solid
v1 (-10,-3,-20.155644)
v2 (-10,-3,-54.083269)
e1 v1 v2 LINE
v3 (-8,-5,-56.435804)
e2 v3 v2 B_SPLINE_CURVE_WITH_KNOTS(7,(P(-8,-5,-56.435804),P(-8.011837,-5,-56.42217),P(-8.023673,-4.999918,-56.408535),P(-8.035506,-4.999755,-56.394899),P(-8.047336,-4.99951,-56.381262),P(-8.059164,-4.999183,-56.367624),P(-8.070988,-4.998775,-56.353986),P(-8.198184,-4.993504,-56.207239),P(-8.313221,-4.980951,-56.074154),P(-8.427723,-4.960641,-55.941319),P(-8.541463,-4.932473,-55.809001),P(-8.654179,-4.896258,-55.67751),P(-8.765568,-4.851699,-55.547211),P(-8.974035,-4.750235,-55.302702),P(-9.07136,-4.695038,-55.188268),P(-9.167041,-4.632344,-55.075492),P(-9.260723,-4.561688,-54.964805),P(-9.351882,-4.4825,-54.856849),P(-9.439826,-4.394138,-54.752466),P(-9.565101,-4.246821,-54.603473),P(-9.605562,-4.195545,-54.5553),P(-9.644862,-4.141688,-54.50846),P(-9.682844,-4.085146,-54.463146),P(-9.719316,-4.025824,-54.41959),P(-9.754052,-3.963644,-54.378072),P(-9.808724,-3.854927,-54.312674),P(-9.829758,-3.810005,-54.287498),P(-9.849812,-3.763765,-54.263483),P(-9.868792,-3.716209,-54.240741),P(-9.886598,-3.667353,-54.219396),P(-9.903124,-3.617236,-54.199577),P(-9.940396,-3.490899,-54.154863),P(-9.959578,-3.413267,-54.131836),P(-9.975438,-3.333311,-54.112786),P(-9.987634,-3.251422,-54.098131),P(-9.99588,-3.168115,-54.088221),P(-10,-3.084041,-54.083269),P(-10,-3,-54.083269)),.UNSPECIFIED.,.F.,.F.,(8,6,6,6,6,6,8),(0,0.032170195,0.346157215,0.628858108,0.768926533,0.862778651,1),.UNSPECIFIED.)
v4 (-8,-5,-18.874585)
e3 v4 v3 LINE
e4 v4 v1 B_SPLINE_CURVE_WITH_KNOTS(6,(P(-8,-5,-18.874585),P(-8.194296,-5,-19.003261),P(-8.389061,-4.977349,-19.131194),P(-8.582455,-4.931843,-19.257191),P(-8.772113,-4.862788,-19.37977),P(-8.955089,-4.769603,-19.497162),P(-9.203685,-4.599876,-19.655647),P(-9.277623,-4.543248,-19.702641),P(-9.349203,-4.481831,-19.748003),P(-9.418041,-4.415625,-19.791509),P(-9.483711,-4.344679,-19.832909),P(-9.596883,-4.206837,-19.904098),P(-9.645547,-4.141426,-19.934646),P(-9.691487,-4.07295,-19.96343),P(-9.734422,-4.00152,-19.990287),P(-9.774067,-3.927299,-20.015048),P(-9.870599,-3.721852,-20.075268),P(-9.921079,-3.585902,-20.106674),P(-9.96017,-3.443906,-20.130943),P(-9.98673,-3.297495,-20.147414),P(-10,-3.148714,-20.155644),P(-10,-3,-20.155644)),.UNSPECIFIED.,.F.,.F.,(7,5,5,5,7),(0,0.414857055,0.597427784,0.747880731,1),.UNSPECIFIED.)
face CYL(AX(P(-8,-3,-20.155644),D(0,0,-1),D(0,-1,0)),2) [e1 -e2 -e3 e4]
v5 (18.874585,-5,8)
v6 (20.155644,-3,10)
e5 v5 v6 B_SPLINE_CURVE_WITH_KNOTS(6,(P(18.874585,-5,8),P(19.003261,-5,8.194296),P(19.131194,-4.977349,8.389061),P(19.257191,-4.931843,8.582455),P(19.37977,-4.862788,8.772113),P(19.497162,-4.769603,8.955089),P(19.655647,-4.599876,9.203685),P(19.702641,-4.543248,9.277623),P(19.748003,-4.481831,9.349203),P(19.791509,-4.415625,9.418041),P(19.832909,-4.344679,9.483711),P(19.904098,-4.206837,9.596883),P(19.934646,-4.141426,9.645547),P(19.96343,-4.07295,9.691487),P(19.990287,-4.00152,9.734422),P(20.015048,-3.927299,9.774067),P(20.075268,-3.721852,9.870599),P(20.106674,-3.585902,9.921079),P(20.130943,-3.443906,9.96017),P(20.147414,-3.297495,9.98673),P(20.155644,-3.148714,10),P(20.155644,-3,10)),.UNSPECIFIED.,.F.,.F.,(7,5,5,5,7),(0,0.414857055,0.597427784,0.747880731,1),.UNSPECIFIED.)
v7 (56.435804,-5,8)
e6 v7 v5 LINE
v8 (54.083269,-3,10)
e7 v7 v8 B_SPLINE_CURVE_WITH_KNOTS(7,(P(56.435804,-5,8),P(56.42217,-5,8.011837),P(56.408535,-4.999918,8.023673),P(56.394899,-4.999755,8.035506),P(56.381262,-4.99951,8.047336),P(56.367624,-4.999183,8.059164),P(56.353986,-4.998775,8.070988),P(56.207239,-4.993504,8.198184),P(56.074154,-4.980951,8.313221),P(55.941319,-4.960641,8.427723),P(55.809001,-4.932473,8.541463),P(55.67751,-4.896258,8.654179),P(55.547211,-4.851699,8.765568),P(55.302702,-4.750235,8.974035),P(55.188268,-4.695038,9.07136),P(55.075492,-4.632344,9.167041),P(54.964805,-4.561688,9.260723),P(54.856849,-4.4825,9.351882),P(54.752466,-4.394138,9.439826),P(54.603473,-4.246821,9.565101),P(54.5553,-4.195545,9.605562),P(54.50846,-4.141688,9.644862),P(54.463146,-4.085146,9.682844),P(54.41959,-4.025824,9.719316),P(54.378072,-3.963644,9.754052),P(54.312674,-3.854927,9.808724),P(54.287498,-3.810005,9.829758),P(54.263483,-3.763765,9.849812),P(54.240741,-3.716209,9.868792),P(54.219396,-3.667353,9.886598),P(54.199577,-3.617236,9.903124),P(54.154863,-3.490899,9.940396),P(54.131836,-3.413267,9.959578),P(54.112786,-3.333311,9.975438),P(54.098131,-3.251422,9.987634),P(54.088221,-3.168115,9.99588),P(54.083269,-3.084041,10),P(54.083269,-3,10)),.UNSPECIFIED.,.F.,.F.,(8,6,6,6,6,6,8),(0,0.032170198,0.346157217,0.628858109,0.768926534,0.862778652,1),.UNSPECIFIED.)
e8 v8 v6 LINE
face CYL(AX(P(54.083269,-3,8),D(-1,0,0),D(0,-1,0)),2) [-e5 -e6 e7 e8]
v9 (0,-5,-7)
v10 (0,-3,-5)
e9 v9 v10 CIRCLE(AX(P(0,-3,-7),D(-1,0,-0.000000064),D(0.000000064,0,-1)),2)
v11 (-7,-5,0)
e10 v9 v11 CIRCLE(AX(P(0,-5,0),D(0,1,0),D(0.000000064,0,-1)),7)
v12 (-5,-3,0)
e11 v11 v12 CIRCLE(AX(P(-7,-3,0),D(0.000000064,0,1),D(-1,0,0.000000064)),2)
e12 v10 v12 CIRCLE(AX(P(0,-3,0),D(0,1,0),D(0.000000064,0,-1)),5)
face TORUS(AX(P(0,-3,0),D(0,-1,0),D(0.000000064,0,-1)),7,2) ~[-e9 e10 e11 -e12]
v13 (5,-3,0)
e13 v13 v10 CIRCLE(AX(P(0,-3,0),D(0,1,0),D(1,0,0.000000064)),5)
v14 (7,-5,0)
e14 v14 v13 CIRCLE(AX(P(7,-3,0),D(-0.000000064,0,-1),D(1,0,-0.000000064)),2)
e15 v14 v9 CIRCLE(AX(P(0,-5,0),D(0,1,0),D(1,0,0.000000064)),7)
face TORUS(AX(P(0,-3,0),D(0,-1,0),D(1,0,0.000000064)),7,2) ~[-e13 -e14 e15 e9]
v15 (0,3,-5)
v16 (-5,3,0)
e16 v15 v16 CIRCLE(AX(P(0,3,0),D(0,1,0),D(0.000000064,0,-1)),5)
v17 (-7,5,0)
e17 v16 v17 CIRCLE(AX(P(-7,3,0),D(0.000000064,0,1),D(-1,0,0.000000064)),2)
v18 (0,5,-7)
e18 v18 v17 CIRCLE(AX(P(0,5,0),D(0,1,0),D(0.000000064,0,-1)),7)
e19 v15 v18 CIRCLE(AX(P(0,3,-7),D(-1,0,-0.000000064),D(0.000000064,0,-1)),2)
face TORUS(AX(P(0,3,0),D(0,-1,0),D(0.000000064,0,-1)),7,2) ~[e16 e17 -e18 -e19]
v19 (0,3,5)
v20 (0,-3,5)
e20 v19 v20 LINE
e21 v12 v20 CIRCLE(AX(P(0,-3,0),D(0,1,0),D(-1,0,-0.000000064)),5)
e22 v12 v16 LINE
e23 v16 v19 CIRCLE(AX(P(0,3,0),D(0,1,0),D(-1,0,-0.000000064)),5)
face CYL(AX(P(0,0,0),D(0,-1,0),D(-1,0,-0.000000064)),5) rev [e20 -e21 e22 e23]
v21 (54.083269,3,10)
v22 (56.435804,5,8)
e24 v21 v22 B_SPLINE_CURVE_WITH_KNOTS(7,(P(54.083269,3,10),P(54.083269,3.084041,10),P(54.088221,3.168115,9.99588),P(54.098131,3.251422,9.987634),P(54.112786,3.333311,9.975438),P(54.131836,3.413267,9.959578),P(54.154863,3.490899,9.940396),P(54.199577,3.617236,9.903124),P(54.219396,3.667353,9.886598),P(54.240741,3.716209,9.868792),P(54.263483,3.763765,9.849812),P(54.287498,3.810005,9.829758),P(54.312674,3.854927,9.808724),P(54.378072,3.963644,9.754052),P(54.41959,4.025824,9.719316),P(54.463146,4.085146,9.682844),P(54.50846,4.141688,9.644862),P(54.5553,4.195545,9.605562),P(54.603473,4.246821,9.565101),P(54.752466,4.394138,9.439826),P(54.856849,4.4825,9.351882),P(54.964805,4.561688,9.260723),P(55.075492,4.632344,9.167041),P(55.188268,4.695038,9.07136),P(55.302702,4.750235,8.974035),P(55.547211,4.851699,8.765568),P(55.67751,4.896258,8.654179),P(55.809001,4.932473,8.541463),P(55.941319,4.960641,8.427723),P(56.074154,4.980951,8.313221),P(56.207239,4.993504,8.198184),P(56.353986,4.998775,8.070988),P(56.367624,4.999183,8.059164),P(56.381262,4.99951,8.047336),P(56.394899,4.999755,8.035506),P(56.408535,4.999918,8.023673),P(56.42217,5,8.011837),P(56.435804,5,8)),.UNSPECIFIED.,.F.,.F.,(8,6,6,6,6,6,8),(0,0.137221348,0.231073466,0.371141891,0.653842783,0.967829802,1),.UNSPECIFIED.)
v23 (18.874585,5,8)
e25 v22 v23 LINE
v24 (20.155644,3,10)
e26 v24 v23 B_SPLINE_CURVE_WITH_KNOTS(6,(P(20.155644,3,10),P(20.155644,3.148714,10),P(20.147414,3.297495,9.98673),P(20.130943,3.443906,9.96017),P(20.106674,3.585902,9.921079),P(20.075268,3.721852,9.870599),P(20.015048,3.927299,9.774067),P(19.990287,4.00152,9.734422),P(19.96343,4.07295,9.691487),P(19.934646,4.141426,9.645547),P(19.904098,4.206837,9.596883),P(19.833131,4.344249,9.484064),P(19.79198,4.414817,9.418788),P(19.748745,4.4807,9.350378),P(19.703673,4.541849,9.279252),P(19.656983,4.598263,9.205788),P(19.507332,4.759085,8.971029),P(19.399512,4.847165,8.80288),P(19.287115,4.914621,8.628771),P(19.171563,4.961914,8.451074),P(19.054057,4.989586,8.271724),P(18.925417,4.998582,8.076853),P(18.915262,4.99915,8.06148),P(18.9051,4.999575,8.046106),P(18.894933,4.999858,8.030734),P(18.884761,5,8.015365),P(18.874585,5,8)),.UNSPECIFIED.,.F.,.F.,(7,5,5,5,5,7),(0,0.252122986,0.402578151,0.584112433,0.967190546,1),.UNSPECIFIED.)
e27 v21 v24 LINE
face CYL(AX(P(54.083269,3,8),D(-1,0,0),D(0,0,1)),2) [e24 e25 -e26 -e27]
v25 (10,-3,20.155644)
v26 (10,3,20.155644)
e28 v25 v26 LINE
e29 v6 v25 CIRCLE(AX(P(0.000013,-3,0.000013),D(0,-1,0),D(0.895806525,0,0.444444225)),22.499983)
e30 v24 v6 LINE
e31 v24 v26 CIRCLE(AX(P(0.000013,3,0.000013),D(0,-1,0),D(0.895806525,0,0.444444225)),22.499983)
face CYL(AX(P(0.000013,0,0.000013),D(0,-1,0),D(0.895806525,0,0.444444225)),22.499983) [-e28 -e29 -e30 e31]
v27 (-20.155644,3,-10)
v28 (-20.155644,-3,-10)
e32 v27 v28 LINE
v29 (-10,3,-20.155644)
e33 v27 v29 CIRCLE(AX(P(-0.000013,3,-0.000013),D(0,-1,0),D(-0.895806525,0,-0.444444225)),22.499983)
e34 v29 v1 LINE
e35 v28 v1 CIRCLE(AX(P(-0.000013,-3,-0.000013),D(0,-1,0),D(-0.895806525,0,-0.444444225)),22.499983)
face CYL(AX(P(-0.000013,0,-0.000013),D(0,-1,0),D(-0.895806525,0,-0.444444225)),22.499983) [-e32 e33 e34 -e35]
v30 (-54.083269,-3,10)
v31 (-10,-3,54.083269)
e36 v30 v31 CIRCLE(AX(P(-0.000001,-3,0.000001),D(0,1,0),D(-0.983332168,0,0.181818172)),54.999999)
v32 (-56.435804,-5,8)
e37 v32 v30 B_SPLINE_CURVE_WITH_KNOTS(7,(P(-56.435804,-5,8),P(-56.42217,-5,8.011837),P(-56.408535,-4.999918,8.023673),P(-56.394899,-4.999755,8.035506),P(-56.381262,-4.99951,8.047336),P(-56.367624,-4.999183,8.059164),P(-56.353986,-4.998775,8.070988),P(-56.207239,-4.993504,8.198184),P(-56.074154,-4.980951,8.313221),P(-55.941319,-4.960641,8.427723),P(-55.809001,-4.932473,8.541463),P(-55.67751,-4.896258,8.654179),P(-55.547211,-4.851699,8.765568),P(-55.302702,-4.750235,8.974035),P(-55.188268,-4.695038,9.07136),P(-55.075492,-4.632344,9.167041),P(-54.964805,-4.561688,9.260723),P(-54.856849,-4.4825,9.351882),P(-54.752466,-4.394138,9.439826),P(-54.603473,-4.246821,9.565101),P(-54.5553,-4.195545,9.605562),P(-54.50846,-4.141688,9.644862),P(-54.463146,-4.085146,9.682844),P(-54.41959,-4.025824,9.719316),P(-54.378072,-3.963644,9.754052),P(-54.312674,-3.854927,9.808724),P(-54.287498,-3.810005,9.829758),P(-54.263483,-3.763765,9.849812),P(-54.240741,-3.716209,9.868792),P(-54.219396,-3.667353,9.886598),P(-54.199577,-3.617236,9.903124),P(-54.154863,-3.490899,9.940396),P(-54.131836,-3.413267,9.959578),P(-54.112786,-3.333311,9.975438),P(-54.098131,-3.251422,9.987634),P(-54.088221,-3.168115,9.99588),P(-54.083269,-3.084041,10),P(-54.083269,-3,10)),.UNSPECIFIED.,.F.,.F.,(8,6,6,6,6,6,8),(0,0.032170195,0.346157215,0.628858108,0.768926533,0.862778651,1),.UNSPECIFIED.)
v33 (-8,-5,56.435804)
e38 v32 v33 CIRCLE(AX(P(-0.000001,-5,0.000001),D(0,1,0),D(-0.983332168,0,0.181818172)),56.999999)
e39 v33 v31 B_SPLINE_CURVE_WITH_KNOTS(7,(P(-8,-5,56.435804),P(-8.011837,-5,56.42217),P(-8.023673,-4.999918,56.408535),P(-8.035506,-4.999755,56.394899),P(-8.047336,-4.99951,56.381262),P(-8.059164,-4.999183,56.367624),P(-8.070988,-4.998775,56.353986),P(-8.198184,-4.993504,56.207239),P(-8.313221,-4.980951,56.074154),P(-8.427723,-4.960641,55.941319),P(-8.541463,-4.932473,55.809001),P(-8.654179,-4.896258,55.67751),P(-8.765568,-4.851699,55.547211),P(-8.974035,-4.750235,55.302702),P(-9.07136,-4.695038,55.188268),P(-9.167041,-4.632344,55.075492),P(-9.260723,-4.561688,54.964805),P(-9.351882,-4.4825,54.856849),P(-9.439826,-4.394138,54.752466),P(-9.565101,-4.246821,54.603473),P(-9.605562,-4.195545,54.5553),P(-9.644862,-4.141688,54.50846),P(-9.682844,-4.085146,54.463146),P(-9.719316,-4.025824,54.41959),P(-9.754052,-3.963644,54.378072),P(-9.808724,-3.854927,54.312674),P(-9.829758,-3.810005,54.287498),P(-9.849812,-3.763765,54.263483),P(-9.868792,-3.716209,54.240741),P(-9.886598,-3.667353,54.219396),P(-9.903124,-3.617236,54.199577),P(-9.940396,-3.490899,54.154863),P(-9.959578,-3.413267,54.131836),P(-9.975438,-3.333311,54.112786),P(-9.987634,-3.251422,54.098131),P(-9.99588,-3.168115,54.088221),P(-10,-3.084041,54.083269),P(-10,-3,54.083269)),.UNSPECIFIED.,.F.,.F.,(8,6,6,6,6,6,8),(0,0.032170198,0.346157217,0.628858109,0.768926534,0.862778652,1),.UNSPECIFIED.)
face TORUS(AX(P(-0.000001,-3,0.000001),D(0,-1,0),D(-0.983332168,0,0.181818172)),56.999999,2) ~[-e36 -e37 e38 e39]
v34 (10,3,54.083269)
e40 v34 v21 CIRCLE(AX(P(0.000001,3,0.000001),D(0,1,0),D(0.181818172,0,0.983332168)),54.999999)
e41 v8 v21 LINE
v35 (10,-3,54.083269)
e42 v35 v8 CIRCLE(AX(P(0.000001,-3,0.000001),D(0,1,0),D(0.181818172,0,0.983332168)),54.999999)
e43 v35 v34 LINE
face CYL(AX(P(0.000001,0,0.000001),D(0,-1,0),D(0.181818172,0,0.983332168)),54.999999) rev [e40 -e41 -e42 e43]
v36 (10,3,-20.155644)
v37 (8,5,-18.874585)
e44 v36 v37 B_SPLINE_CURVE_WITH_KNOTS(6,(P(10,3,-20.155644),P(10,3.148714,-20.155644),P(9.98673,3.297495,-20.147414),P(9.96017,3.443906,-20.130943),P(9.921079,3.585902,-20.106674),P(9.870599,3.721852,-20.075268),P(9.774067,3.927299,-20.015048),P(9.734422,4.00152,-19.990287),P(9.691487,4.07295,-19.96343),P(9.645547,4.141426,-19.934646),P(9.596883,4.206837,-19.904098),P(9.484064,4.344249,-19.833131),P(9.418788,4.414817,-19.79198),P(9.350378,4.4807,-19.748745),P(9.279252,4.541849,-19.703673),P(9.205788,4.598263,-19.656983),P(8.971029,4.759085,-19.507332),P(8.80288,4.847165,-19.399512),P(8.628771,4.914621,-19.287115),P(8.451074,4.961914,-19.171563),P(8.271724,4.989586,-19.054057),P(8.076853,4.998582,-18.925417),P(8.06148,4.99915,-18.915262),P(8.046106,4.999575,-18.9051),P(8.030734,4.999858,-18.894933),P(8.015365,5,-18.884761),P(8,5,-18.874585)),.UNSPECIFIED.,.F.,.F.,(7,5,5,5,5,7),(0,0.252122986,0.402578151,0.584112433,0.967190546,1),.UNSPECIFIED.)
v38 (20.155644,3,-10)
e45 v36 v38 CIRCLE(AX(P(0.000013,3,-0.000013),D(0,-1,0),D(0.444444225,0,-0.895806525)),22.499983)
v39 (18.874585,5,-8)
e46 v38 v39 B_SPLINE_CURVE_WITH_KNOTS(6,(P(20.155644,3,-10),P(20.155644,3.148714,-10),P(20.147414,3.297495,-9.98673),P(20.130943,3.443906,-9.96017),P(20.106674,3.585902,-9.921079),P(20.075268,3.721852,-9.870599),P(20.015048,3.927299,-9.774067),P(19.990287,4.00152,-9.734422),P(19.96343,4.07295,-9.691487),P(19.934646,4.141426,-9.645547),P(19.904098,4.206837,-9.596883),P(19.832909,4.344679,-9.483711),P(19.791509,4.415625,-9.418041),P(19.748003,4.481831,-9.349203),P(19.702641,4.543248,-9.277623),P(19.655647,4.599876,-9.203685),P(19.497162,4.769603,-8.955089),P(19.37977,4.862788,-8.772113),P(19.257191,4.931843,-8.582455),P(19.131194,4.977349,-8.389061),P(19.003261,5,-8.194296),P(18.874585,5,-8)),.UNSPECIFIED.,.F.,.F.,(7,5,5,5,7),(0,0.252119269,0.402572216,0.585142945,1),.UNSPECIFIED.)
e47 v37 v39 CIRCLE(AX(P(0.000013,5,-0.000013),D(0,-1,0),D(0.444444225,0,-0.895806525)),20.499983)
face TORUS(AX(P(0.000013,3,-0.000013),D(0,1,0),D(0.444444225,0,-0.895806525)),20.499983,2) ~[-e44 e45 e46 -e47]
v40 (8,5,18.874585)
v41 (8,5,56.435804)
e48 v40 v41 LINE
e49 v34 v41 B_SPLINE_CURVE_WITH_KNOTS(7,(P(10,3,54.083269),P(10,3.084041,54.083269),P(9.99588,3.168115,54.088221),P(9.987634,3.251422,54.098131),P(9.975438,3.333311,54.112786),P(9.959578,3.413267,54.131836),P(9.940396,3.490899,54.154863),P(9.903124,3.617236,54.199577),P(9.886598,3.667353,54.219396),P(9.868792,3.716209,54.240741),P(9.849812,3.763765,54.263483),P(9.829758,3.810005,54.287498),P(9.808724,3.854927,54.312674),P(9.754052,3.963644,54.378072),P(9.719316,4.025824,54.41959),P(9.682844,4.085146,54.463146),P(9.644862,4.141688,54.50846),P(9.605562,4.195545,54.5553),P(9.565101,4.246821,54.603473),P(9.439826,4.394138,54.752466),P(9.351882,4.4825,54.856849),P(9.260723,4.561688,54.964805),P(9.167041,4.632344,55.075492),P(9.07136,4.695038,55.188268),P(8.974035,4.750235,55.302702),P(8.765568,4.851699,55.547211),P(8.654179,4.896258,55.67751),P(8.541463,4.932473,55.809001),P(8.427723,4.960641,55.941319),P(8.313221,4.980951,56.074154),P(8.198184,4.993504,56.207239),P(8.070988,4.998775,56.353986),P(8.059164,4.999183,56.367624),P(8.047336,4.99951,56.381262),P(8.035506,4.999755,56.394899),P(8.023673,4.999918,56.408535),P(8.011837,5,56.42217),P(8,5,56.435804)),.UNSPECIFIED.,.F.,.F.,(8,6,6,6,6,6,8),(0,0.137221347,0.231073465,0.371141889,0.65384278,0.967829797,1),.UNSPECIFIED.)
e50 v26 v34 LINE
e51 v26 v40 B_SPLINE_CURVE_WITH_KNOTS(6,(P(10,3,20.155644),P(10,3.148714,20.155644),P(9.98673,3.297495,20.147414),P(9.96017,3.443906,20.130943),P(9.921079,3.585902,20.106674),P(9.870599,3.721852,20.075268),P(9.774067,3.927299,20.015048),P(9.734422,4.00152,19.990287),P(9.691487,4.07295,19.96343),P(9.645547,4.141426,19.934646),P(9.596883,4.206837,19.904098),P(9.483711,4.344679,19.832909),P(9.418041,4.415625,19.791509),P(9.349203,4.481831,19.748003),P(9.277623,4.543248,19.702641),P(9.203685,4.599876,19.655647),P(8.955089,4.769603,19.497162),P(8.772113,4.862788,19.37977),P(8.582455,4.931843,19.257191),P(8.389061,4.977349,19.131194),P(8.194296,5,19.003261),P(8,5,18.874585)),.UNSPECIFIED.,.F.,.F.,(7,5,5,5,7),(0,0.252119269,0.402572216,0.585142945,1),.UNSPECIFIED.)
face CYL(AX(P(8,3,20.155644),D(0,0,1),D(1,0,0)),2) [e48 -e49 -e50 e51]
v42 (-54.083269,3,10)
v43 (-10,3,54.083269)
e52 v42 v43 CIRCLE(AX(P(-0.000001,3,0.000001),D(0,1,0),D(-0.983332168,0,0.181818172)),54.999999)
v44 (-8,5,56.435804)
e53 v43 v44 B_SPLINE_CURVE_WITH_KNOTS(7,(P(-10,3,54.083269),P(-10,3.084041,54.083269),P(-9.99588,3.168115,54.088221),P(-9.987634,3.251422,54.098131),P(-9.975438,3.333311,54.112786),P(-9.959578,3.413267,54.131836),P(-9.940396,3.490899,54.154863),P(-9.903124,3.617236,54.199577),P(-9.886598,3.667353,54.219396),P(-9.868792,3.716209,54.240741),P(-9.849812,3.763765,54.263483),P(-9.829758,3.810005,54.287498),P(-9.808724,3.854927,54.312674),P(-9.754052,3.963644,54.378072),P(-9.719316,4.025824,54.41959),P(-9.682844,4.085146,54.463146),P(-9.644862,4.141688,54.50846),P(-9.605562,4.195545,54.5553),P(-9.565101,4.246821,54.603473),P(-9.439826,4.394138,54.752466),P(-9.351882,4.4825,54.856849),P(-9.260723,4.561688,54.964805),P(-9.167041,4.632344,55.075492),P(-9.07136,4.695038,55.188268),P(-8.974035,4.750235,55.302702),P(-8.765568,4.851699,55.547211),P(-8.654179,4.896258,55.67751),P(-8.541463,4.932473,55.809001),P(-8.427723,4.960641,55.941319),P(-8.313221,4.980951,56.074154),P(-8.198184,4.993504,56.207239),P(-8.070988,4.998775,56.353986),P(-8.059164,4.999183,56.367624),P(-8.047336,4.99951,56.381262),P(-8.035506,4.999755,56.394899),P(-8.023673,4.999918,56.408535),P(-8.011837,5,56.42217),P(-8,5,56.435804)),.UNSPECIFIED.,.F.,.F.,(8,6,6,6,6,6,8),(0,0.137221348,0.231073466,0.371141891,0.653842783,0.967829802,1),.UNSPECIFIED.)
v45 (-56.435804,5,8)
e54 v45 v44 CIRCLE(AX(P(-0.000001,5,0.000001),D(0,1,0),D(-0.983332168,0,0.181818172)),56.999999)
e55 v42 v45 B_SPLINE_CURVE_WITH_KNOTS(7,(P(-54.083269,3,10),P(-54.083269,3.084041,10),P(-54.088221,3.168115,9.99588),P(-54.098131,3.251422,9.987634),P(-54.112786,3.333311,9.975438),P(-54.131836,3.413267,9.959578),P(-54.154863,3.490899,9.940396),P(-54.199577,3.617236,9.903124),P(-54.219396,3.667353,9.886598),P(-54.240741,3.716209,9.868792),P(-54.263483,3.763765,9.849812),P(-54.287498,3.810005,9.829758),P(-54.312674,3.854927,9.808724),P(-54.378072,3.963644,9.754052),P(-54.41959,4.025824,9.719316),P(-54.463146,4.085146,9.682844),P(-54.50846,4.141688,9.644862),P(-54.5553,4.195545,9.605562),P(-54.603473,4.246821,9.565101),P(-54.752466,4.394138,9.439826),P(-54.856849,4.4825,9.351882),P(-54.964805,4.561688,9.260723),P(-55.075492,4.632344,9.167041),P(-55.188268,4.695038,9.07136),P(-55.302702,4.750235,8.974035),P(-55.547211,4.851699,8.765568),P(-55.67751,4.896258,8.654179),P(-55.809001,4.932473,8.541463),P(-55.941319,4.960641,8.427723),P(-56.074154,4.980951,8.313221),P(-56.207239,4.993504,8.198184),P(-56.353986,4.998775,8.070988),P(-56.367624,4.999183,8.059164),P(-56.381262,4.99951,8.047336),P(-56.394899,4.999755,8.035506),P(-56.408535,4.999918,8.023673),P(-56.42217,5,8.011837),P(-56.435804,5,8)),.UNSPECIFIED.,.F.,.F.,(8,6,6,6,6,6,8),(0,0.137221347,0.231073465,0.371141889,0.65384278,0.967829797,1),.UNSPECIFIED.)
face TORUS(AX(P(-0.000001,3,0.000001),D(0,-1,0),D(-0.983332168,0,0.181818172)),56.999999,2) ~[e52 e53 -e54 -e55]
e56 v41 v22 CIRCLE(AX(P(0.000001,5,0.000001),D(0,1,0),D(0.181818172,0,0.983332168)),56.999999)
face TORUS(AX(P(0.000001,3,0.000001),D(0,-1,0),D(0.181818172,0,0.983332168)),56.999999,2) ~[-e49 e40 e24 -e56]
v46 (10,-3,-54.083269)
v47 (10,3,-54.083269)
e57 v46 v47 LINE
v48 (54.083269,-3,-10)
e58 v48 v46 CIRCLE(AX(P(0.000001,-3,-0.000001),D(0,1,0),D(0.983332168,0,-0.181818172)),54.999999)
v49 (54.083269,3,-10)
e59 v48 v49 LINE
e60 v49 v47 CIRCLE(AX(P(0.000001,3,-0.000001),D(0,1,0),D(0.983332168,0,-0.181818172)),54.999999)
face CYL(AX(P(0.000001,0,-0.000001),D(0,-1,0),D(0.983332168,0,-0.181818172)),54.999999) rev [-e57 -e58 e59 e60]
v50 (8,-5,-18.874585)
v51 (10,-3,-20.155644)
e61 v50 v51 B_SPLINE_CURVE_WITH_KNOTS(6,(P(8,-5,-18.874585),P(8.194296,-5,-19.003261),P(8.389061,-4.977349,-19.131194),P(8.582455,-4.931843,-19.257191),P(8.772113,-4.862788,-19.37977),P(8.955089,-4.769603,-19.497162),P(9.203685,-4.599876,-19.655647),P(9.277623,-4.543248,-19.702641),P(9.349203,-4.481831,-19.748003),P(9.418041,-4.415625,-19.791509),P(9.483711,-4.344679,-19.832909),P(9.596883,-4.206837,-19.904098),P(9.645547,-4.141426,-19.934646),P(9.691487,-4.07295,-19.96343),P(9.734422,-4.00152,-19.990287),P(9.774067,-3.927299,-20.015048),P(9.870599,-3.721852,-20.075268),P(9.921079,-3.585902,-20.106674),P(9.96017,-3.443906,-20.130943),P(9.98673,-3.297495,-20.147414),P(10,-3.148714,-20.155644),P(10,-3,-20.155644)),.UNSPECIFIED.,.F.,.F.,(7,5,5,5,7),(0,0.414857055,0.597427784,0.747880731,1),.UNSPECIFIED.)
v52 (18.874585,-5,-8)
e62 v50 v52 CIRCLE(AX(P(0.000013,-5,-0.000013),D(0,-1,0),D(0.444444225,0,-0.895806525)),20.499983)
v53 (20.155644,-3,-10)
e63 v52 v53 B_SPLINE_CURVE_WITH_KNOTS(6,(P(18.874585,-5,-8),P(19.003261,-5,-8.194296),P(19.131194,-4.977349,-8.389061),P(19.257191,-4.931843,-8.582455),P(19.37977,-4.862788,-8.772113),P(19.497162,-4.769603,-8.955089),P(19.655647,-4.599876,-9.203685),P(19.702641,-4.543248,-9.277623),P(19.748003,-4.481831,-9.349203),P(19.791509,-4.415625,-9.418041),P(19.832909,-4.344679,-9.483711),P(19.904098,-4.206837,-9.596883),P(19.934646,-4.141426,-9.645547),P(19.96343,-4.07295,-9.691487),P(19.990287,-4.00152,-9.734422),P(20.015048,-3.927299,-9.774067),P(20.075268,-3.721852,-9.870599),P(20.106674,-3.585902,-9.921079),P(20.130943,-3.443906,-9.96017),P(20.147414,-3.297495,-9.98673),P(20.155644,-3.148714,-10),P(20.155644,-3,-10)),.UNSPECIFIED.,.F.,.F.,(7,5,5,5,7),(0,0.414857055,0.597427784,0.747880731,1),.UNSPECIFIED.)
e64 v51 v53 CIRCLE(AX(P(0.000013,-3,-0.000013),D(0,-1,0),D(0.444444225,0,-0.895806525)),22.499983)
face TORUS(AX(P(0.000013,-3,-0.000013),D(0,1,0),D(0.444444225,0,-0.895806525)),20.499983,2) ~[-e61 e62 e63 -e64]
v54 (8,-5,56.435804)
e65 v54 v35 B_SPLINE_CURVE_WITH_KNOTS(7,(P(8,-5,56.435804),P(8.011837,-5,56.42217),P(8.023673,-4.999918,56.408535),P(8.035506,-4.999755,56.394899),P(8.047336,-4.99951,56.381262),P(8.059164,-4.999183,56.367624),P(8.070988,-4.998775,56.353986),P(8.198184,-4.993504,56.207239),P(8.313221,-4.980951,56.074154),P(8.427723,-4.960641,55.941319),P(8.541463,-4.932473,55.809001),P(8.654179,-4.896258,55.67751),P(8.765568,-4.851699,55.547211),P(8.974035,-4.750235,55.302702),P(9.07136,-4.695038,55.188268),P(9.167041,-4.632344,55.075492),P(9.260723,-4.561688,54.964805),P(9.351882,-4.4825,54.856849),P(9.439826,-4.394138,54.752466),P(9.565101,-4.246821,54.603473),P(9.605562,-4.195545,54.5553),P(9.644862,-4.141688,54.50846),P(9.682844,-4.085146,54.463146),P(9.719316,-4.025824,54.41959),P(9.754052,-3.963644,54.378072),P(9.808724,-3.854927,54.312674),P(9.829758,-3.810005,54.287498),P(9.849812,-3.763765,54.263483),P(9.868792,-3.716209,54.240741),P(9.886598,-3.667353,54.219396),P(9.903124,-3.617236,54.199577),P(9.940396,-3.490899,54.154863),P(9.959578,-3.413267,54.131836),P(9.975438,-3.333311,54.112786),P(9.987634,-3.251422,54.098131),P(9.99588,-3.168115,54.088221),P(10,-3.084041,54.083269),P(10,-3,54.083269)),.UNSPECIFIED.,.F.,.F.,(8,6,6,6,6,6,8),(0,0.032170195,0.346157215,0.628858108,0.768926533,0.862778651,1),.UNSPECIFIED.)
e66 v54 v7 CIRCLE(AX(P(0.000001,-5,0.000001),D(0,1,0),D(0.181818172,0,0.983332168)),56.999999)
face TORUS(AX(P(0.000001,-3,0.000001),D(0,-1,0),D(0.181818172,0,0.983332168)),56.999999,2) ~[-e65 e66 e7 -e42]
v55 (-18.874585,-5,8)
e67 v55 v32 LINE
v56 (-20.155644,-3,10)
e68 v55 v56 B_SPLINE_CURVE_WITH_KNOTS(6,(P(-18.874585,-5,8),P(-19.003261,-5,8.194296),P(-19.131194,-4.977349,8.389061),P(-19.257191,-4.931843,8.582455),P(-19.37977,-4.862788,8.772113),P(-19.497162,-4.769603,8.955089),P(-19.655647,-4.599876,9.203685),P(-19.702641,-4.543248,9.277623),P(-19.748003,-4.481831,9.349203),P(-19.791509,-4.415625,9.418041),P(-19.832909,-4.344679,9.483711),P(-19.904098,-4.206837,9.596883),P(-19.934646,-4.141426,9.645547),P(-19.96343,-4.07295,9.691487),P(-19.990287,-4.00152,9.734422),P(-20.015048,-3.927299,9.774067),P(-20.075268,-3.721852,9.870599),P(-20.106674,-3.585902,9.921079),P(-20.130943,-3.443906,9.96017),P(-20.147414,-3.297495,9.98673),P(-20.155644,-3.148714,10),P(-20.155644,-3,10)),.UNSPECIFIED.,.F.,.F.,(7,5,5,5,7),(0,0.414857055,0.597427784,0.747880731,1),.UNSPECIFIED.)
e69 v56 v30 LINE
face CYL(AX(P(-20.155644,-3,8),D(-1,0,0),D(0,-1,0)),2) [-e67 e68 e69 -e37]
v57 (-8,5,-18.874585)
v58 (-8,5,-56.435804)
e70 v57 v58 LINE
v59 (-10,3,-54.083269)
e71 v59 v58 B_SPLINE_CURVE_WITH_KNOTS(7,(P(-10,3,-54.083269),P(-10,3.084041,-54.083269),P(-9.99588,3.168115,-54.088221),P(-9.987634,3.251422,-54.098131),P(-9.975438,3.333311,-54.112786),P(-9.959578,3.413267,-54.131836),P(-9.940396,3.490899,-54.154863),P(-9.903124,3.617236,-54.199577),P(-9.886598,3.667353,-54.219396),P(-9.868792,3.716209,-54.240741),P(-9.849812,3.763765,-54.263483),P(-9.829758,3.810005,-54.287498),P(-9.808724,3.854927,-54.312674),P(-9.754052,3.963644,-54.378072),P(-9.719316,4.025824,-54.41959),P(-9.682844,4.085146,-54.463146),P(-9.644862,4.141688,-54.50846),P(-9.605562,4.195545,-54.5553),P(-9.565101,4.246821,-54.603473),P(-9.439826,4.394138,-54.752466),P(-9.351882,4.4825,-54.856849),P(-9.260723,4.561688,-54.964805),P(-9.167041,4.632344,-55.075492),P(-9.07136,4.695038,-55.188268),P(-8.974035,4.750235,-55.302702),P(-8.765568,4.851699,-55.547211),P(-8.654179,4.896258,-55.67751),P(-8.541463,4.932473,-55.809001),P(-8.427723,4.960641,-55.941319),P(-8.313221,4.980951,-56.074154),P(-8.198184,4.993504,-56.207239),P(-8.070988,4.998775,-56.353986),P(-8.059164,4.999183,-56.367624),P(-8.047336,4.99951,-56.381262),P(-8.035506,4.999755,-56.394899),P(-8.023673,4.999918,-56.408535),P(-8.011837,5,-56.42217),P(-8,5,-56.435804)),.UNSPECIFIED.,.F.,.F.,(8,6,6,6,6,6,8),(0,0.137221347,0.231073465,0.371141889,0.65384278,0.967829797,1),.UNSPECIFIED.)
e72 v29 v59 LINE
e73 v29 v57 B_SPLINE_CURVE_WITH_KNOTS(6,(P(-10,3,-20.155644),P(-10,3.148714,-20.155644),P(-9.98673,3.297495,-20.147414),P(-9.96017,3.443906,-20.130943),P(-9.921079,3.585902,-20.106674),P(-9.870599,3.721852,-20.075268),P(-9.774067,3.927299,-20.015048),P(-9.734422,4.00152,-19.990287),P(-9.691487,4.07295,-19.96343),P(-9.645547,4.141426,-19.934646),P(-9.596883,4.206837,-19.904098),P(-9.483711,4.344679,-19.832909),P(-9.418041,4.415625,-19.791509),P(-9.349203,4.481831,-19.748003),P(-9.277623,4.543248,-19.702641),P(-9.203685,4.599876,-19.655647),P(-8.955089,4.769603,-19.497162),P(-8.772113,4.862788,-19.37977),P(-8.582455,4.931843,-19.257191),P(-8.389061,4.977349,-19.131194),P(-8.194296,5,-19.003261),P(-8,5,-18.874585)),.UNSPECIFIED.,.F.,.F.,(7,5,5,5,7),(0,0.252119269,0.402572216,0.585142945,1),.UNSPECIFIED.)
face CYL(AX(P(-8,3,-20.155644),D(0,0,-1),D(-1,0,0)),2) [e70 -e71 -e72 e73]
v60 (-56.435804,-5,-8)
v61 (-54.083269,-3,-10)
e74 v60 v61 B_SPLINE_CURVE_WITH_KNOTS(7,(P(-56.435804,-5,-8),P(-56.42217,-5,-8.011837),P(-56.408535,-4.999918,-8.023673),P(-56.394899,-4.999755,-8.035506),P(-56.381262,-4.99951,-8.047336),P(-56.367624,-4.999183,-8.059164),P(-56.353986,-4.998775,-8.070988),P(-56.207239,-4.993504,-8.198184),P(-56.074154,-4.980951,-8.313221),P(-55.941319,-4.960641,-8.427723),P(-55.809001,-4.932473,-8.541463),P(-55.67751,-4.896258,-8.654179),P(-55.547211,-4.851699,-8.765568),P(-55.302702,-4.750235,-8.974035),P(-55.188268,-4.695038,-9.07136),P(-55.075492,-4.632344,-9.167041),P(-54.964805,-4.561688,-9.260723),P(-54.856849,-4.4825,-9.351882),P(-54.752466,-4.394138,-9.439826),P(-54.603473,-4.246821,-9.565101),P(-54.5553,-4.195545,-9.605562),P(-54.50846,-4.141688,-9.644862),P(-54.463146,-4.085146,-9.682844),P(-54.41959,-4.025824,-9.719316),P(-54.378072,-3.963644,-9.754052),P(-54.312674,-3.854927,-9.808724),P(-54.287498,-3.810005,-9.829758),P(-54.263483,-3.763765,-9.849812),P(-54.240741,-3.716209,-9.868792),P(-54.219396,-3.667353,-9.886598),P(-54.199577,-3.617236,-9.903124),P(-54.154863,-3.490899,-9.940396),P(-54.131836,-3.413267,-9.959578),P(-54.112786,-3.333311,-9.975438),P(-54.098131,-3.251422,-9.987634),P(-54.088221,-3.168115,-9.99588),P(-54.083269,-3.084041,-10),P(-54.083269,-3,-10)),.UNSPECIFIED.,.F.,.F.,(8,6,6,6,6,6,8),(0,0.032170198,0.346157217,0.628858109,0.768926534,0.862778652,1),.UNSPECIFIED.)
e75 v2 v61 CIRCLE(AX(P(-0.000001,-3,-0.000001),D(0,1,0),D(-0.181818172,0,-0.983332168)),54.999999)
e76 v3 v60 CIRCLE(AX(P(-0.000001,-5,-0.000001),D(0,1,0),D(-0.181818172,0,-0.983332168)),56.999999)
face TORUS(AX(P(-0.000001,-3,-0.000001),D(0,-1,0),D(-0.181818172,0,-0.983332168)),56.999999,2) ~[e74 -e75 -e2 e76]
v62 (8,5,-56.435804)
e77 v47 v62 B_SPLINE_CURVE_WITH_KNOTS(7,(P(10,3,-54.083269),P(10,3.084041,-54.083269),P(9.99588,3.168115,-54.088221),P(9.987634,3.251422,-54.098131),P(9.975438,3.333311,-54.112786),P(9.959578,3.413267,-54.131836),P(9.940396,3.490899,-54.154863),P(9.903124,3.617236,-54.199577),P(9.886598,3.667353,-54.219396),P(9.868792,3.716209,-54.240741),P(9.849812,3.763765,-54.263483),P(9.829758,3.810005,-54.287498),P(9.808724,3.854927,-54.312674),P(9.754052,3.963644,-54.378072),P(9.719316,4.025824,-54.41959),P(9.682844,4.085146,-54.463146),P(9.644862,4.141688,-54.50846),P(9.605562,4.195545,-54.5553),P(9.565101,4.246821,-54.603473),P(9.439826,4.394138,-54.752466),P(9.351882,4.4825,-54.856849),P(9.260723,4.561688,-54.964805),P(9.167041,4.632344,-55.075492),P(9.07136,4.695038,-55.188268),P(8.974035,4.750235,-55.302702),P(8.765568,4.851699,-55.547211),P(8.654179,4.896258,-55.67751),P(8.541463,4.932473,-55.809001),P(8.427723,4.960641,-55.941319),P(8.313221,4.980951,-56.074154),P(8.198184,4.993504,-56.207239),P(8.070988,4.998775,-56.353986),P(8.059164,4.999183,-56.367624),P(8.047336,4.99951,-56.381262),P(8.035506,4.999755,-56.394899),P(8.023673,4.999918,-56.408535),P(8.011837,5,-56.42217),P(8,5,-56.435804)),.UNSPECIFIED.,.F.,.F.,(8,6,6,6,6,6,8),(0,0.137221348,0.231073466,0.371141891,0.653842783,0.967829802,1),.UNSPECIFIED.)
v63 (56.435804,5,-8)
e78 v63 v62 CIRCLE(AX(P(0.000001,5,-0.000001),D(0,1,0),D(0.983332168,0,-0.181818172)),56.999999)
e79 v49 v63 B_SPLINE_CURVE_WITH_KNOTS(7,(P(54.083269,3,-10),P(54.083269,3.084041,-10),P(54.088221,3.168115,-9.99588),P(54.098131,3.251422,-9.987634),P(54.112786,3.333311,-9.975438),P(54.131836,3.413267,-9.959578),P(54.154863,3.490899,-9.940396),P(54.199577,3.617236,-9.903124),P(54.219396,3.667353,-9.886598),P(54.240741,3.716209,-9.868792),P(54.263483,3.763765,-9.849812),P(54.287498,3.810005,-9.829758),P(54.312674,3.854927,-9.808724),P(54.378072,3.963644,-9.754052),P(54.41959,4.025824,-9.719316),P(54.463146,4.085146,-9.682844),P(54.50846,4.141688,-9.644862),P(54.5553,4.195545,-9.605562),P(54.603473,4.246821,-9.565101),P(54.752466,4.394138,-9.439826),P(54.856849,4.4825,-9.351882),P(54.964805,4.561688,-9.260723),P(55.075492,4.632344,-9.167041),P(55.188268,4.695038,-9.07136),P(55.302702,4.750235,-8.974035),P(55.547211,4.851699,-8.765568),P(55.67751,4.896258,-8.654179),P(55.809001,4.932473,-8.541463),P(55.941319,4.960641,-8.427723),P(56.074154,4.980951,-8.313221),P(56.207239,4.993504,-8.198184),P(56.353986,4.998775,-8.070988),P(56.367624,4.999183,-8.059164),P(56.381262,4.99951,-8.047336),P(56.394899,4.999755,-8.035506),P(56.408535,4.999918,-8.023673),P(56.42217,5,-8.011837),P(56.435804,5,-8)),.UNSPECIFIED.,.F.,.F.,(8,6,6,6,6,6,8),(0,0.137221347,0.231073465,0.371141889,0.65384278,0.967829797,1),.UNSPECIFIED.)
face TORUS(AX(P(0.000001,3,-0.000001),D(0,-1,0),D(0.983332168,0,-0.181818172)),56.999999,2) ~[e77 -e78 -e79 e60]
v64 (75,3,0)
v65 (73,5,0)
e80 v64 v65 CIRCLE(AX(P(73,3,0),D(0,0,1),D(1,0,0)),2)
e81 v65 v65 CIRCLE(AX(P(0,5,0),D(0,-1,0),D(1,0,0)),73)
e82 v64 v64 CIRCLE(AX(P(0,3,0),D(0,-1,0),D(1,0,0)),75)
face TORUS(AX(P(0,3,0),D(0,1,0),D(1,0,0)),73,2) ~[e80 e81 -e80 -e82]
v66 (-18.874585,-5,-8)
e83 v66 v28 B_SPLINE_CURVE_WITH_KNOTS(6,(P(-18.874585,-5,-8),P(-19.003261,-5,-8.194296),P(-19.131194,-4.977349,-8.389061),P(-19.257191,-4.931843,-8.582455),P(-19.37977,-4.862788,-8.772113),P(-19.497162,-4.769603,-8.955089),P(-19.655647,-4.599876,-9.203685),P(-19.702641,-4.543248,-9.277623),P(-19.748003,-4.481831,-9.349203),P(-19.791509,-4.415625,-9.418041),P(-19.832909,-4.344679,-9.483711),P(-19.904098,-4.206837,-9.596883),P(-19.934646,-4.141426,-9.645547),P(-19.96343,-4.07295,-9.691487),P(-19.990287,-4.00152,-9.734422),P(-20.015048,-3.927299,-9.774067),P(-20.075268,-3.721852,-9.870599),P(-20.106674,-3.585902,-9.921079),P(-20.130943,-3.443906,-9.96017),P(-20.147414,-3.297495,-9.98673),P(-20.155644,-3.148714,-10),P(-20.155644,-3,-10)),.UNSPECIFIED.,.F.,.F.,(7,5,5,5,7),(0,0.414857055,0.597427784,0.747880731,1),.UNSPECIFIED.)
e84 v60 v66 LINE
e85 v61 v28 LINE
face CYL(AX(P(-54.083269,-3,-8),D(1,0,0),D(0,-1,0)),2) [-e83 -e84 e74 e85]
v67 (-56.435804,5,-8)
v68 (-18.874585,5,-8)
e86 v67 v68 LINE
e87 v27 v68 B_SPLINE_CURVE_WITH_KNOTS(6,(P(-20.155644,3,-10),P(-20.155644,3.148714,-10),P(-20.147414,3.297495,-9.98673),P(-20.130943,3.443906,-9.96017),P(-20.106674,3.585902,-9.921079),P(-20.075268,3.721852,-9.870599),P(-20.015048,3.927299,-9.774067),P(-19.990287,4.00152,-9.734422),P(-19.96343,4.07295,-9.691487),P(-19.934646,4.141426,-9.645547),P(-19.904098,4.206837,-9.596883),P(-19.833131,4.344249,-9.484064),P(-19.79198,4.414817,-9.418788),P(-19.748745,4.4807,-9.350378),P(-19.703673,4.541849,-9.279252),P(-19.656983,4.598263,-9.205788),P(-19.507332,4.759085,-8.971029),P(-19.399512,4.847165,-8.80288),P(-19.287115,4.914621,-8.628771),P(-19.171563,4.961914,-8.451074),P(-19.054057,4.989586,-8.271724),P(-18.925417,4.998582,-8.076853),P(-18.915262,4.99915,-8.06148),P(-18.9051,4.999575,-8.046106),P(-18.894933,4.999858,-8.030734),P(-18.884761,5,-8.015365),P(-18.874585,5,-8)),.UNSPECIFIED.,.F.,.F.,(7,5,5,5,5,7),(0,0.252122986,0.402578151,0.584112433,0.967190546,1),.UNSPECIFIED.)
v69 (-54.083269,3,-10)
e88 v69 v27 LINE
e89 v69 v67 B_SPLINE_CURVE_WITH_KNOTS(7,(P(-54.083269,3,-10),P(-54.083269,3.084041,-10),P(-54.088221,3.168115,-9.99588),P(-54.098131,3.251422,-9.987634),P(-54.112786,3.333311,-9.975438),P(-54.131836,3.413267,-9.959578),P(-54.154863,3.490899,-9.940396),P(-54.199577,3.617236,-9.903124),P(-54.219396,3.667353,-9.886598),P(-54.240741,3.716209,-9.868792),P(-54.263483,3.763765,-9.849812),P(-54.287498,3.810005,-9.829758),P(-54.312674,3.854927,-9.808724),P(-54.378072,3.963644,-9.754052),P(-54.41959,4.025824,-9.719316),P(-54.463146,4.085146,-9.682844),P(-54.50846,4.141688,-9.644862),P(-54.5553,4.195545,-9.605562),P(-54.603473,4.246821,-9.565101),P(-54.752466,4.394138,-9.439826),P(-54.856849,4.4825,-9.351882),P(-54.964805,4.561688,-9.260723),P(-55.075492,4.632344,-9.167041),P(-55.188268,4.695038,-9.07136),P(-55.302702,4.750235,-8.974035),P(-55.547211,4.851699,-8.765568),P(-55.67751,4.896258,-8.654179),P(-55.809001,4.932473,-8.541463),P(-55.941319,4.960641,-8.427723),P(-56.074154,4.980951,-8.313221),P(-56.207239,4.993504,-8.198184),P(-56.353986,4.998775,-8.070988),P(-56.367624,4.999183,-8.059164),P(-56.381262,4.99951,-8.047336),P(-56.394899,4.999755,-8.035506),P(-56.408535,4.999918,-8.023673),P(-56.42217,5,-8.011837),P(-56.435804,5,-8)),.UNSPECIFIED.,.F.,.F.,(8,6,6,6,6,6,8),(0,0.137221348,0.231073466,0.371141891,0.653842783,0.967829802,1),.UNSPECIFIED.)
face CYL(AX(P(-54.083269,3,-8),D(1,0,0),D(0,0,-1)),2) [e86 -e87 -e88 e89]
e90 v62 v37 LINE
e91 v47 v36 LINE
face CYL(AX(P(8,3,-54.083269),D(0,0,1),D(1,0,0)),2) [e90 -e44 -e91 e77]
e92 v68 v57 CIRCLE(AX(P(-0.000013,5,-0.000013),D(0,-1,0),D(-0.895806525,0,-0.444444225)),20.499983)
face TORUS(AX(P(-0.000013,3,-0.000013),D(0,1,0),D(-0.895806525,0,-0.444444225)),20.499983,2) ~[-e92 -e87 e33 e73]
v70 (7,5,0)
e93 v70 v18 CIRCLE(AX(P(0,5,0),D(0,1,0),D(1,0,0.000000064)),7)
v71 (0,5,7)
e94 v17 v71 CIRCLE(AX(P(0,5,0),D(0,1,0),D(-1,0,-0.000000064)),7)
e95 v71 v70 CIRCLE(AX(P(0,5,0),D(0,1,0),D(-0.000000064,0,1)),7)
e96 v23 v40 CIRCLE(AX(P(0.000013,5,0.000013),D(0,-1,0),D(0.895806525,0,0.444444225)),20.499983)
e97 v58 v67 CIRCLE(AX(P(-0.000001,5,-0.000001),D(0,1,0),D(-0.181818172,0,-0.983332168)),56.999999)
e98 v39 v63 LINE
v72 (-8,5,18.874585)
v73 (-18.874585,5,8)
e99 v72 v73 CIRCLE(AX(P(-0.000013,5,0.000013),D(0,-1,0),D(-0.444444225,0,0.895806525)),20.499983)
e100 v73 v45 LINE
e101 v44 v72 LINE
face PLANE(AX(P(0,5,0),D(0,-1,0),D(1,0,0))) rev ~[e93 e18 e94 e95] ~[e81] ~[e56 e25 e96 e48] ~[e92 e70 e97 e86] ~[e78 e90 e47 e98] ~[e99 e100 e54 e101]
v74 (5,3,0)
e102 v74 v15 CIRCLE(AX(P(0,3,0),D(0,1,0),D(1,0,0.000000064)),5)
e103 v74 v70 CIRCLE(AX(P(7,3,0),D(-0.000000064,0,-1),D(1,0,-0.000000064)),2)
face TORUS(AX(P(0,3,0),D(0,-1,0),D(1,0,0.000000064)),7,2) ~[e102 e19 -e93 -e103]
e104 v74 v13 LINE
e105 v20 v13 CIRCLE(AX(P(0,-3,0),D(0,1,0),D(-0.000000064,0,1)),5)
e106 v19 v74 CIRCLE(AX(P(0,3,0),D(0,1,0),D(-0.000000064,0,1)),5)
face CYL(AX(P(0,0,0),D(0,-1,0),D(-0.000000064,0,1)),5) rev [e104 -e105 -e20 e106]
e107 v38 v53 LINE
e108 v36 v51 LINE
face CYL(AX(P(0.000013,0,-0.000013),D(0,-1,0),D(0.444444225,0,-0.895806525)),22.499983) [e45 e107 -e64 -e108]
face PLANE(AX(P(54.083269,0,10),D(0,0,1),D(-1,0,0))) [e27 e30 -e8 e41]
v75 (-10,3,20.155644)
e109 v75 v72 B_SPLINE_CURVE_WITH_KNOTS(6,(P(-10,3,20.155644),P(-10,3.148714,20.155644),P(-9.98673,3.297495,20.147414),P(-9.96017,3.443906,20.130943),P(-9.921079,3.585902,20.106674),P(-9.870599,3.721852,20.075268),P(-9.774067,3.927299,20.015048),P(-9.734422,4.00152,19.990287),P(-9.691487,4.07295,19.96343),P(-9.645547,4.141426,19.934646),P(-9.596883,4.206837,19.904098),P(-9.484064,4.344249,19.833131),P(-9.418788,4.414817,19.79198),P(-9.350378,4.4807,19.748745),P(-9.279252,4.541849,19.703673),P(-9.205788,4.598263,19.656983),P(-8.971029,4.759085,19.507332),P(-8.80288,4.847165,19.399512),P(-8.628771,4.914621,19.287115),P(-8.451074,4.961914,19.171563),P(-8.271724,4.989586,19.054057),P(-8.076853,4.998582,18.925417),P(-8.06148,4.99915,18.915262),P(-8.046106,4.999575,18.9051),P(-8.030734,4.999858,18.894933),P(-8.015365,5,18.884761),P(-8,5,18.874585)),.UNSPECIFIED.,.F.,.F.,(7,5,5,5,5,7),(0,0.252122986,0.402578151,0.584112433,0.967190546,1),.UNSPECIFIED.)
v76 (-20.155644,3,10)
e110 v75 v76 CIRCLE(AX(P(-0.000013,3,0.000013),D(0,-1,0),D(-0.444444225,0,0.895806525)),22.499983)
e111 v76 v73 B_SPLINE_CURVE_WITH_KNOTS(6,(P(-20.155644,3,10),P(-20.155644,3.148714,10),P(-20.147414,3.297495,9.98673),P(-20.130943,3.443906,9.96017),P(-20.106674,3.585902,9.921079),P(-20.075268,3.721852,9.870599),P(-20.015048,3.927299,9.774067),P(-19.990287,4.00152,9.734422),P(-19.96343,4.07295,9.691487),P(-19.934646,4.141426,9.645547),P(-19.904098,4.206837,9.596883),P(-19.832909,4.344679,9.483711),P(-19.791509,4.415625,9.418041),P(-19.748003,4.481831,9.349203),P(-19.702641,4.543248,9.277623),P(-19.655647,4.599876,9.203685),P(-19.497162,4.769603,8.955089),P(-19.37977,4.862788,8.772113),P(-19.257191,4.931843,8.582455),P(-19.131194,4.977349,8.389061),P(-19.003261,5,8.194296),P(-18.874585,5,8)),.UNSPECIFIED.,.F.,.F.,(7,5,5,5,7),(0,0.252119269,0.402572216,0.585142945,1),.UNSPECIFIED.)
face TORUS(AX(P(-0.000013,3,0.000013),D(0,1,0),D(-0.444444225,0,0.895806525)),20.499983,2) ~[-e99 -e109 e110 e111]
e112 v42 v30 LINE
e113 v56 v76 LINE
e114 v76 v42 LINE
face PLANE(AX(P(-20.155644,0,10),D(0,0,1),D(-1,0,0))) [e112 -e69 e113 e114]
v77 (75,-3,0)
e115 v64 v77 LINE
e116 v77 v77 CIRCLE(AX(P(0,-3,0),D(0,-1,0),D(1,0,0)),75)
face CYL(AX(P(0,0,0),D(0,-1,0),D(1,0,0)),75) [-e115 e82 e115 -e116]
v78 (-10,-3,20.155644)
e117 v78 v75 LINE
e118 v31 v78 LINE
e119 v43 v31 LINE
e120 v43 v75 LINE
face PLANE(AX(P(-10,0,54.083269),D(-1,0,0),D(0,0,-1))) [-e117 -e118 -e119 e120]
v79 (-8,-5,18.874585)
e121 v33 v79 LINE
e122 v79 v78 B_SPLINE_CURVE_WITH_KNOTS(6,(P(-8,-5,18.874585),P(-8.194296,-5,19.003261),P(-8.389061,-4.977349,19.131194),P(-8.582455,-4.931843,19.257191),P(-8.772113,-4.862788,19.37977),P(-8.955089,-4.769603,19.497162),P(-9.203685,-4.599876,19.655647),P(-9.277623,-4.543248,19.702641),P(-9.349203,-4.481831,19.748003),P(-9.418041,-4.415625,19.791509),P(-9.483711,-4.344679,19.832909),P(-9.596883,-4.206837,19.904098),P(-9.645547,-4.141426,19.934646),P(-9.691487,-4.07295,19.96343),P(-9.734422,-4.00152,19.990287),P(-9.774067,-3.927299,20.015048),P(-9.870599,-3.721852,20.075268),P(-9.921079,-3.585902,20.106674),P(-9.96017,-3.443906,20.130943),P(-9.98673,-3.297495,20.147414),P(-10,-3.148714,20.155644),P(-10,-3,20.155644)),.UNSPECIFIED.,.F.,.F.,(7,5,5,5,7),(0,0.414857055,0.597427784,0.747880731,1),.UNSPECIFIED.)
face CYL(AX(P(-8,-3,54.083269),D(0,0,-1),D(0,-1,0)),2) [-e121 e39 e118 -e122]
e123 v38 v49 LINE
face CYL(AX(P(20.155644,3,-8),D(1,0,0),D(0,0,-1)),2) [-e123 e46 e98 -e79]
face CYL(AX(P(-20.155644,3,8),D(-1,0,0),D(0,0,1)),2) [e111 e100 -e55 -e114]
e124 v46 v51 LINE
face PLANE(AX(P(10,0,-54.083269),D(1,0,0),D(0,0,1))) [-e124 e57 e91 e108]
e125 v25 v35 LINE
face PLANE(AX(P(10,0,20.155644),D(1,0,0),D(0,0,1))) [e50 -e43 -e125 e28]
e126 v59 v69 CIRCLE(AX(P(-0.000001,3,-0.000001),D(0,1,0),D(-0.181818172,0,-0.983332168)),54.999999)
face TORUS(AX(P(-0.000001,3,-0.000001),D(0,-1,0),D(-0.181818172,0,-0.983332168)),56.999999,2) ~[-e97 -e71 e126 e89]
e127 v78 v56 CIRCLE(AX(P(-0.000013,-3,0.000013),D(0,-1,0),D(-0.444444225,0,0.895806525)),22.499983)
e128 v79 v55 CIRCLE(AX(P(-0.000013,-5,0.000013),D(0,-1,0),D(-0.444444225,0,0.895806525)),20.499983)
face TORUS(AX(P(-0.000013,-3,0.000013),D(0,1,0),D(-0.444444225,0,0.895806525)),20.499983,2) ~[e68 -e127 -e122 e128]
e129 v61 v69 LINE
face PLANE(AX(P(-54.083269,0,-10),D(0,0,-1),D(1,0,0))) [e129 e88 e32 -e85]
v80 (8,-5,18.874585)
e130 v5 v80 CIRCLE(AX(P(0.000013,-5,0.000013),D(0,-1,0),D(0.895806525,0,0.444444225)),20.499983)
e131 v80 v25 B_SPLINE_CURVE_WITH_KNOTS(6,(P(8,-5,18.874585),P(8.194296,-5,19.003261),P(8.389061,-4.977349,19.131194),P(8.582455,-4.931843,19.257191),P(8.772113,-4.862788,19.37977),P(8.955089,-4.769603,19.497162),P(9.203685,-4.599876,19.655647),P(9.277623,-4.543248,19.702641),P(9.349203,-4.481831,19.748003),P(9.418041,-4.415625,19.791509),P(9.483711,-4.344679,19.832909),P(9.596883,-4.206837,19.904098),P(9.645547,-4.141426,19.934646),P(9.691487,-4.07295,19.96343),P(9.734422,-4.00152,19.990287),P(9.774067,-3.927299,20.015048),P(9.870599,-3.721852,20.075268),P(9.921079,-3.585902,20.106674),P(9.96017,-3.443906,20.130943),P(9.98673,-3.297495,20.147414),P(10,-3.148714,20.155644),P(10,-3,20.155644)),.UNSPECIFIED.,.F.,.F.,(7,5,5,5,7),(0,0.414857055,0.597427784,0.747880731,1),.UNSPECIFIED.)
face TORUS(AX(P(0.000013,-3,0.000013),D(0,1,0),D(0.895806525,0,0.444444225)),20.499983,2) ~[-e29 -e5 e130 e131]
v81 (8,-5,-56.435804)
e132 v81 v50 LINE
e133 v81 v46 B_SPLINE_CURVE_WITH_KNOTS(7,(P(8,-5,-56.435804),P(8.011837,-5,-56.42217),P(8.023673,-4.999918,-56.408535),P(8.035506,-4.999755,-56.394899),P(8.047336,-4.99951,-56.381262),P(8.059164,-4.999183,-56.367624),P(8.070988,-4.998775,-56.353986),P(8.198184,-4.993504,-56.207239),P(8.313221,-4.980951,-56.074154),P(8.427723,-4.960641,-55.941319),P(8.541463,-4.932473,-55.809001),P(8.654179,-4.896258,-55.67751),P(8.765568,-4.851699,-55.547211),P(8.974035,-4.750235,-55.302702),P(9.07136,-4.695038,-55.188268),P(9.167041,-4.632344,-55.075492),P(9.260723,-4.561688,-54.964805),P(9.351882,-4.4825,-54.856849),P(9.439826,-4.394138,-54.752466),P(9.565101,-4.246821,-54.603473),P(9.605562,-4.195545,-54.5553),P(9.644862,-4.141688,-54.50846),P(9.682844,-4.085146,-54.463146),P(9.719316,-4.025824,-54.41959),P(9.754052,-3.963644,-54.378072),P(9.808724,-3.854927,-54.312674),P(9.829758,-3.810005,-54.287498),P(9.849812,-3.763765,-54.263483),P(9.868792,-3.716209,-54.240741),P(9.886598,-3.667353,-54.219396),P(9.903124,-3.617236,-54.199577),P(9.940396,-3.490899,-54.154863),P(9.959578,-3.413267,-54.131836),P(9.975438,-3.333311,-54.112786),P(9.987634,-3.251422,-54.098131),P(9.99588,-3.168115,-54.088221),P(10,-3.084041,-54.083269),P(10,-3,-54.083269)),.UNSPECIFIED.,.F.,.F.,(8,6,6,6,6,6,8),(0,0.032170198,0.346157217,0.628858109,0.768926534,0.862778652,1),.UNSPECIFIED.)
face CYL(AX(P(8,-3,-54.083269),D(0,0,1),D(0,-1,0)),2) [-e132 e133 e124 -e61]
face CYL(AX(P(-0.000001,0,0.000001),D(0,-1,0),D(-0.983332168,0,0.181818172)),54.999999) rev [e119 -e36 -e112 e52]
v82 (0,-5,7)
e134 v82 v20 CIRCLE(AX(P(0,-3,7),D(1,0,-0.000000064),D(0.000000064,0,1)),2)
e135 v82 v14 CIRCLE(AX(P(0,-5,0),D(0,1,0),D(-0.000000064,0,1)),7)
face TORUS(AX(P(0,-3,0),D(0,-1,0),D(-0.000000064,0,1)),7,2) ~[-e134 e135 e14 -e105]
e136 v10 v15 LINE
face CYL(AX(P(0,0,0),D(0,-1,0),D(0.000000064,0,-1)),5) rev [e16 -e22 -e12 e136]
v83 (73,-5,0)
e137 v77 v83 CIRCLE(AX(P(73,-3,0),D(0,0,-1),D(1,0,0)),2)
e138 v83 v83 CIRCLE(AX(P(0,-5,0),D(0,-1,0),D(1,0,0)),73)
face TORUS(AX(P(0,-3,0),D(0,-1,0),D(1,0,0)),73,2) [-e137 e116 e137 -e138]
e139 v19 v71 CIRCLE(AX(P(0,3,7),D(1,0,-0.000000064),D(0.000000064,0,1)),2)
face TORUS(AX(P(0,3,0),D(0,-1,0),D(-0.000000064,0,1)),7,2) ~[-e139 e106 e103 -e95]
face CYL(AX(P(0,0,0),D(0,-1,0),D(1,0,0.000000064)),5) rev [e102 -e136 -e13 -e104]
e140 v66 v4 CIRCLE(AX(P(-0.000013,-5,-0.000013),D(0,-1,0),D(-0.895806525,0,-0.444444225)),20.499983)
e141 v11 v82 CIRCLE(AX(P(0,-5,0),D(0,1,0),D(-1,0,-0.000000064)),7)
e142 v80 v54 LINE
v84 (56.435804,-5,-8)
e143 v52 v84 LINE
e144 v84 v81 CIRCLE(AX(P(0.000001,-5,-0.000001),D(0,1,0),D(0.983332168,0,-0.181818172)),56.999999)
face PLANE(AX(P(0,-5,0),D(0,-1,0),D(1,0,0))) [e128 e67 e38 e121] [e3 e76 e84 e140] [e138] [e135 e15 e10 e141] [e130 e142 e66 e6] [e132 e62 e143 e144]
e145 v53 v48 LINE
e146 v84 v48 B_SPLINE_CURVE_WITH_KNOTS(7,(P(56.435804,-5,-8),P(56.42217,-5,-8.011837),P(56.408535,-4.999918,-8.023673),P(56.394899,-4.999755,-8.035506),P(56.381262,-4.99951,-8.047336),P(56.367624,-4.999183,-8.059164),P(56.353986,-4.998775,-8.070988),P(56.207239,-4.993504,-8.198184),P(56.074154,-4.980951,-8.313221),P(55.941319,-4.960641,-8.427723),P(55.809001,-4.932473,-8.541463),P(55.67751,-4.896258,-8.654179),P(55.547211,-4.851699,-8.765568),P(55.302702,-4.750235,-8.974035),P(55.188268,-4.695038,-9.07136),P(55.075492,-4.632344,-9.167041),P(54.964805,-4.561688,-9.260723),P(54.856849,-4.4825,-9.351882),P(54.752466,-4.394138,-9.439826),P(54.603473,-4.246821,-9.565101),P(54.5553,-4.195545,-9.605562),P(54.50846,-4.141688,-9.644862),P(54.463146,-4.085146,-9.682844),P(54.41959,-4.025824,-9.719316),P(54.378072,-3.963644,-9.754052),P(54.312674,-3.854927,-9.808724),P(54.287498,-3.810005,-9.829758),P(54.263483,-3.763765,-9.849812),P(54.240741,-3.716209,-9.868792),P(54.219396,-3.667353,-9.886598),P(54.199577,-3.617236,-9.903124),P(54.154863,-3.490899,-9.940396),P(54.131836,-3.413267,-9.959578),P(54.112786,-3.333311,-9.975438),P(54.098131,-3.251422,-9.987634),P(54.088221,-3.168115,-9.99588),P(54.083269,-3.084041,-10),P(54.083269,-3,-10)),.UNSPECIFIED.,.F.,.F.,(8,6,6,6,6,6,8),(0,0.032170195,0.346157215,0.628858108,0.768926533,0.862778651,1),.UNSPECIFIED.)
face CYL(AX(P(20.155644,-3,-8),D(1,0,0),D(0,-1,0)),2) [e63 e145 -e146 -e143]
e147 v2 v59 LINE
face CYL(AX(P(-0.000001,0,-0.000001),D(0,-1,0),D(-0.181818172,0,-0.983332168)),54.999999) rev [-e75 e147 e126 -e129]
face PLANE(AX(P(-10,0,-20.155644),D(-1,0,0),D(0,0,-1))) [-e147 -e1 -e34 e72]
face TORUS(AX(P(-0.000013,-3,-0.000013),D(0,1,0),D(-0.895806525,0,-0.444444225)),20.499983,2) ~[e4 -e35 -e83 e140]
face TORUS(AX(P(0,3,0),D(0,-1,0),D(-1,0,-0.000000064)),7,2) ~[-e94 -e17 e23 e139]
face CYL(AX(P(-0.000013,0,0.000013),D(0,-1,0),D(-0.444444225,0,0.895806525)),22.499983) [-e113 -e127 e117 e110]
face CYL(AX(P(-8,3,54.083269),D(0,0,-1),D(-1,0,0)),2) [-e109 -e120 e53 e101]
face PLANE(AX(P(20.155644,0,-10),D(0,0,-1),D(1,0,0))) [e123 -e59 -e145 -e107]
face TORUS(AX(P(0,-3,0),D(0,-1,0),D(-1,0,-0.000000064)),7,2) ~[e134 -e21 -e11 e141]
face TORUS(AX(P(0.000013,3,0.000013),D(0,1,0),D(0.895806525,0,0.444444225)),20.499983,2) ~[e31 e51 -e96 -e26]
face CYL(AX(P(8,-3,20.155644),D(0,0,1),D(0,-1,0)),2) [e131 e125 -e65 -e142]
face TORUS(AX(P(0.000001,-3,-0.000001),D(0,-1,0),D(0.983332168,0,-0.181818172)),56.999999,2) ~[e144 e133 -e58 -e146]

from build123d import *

# Parameters (mm, degrees)
F0_R     = 75
F1_DEPTH = 5
F2_R     = 2


with BuildPart() as f1:
    # F0 (on Front) → F1 (new body, symmetric)
    with BuildSketch(Plane.XZ):
        Circle(F0_R)
        with BuildLine():
            ThreePointArc((-20.155644, -10), (-15.909903, -15.909903), (-10, -20.155644))
            Line((-10, -20.155644), (-10, -54.083269))
            ThreePointArc((-10, -54.083269), (-38.890873, -38.890873), (-54.083269, -10))
            Line((-54.083269, -10), (-20.155644, -10))
        make_face(mode=Mode.SUBTRACT)
        with BuildLine():
            ThreePointArc((10, -20.155644), (15.909903, -15.909903), (20.155644, -10))
            Line((20.155644, -10), (54.083269, -10))
            ThreePointArc((54.083269, -10), (38.890873, -38.890873), (10, -54.083269))
            Line((10, -54.083269), (10, -20.155644))
        make_face(mode=Mode.SUBTRACT)
        with BuildLine():
            ThreePointArc((-54.083269, 10), (-38.890873, 38.890873), (-10, 54.083269))
            Line((-10, 54.083269), (-10, 20.155644))
            ThreePointArc((-10, 20.155644), (-15.909903, 15.909903), (-20.155644, 10))
            Line((-20.155644, 10), (-54.083269, 10))
        make_face(mode=Mode.SUBTRACT)
        with BuildLine():
            ThreePointArc((0, 5), (3.535534, 3.535534), (5, 0))
            ThreePointArc((5, 0), (3.535534, -3.535534), (0, -5))
            ThreePointArc((0, -5), (-3.535534, -3.535534), (-5, 0))
            ThreePointArc((-5, 0), (-3.535534, 3.535534), (0, 5))
        make_face(mode=Mode.SUBTRACT)
        with BuildLine():
            ThreePointArc((20.155644, 10), (15.909903, 15.909903), (10, 20.155644))
            Line((10, 20.155644), (10, 54.083269))
            ThreePointArc((10, 54.083269), (38.890873, 38.890873), (54.083269, 10))
            Line((54.083269, 10), (20.155644, 10))
        make_face(mode=Mode.SUBTRACT)
    extrude(amount=F1_DEPTH, both=True)

    # F2
    f2_edges = [f1.edges().sort_by_distance(p)[0] for p in [
        (-75, -5, 0),
        (-38.890873, -5, 38.890873),
        (-10, -5, 37.119457),
        (-15.909903, -5, 15.909903),
        (-37.119457, -5, 10),
        (-37.119457, -5, -10),
        (-38.890873, -5, -38.890873),
        (-10, -5, -37.119457),
        (-15.909903, -5, -15.909903),
        (15.909903, -5, -15.909903),
        (37.119457, -5, -10),
        (38.890873, -5, -38.890873),
        (10, -5, -37.119457),
        (-3.535534, -5, -3.535534),
        (15.909903, -5, 15.909903),
        (10, -5, 37.119457),
        (38.890873, -5, 38.890873),
        (37.119457, -5, 10),
        (-75, 5, 0),
        (-38.890873, 5, 38.890873),
        (-37.119457, 5, 10),
        (-15.909903, 5, 15.909903),
        (-10, 5, 37.119457),
        (10, 5, 37.119457),
        (38.890873, 5, 38.890873),
        (15.909903, 5, 15.909903),
        (37.119457, 5, 10),
        (15.909903, 5, -15.909903),
        (10, 5, -37.119457),
        (38.890873, 5, -38.890873),
        (37.119457, 5, -10),
        (-15.909903, 5, -15.909903),
        (-10, 5, -37.119457),
        (-38.890873, 5, -38.890873),
        (-37.119457, 5, -10),
        (-3.535534, 5, -3.535534),
        (-3.535534, 5, 3.535534),
        (3.535534, 5, 3.535534),
        (3.535534, 5, -3.535534),
    ]]
    fillet(f2_edges, radius=F2_R)


solid = f1.part
